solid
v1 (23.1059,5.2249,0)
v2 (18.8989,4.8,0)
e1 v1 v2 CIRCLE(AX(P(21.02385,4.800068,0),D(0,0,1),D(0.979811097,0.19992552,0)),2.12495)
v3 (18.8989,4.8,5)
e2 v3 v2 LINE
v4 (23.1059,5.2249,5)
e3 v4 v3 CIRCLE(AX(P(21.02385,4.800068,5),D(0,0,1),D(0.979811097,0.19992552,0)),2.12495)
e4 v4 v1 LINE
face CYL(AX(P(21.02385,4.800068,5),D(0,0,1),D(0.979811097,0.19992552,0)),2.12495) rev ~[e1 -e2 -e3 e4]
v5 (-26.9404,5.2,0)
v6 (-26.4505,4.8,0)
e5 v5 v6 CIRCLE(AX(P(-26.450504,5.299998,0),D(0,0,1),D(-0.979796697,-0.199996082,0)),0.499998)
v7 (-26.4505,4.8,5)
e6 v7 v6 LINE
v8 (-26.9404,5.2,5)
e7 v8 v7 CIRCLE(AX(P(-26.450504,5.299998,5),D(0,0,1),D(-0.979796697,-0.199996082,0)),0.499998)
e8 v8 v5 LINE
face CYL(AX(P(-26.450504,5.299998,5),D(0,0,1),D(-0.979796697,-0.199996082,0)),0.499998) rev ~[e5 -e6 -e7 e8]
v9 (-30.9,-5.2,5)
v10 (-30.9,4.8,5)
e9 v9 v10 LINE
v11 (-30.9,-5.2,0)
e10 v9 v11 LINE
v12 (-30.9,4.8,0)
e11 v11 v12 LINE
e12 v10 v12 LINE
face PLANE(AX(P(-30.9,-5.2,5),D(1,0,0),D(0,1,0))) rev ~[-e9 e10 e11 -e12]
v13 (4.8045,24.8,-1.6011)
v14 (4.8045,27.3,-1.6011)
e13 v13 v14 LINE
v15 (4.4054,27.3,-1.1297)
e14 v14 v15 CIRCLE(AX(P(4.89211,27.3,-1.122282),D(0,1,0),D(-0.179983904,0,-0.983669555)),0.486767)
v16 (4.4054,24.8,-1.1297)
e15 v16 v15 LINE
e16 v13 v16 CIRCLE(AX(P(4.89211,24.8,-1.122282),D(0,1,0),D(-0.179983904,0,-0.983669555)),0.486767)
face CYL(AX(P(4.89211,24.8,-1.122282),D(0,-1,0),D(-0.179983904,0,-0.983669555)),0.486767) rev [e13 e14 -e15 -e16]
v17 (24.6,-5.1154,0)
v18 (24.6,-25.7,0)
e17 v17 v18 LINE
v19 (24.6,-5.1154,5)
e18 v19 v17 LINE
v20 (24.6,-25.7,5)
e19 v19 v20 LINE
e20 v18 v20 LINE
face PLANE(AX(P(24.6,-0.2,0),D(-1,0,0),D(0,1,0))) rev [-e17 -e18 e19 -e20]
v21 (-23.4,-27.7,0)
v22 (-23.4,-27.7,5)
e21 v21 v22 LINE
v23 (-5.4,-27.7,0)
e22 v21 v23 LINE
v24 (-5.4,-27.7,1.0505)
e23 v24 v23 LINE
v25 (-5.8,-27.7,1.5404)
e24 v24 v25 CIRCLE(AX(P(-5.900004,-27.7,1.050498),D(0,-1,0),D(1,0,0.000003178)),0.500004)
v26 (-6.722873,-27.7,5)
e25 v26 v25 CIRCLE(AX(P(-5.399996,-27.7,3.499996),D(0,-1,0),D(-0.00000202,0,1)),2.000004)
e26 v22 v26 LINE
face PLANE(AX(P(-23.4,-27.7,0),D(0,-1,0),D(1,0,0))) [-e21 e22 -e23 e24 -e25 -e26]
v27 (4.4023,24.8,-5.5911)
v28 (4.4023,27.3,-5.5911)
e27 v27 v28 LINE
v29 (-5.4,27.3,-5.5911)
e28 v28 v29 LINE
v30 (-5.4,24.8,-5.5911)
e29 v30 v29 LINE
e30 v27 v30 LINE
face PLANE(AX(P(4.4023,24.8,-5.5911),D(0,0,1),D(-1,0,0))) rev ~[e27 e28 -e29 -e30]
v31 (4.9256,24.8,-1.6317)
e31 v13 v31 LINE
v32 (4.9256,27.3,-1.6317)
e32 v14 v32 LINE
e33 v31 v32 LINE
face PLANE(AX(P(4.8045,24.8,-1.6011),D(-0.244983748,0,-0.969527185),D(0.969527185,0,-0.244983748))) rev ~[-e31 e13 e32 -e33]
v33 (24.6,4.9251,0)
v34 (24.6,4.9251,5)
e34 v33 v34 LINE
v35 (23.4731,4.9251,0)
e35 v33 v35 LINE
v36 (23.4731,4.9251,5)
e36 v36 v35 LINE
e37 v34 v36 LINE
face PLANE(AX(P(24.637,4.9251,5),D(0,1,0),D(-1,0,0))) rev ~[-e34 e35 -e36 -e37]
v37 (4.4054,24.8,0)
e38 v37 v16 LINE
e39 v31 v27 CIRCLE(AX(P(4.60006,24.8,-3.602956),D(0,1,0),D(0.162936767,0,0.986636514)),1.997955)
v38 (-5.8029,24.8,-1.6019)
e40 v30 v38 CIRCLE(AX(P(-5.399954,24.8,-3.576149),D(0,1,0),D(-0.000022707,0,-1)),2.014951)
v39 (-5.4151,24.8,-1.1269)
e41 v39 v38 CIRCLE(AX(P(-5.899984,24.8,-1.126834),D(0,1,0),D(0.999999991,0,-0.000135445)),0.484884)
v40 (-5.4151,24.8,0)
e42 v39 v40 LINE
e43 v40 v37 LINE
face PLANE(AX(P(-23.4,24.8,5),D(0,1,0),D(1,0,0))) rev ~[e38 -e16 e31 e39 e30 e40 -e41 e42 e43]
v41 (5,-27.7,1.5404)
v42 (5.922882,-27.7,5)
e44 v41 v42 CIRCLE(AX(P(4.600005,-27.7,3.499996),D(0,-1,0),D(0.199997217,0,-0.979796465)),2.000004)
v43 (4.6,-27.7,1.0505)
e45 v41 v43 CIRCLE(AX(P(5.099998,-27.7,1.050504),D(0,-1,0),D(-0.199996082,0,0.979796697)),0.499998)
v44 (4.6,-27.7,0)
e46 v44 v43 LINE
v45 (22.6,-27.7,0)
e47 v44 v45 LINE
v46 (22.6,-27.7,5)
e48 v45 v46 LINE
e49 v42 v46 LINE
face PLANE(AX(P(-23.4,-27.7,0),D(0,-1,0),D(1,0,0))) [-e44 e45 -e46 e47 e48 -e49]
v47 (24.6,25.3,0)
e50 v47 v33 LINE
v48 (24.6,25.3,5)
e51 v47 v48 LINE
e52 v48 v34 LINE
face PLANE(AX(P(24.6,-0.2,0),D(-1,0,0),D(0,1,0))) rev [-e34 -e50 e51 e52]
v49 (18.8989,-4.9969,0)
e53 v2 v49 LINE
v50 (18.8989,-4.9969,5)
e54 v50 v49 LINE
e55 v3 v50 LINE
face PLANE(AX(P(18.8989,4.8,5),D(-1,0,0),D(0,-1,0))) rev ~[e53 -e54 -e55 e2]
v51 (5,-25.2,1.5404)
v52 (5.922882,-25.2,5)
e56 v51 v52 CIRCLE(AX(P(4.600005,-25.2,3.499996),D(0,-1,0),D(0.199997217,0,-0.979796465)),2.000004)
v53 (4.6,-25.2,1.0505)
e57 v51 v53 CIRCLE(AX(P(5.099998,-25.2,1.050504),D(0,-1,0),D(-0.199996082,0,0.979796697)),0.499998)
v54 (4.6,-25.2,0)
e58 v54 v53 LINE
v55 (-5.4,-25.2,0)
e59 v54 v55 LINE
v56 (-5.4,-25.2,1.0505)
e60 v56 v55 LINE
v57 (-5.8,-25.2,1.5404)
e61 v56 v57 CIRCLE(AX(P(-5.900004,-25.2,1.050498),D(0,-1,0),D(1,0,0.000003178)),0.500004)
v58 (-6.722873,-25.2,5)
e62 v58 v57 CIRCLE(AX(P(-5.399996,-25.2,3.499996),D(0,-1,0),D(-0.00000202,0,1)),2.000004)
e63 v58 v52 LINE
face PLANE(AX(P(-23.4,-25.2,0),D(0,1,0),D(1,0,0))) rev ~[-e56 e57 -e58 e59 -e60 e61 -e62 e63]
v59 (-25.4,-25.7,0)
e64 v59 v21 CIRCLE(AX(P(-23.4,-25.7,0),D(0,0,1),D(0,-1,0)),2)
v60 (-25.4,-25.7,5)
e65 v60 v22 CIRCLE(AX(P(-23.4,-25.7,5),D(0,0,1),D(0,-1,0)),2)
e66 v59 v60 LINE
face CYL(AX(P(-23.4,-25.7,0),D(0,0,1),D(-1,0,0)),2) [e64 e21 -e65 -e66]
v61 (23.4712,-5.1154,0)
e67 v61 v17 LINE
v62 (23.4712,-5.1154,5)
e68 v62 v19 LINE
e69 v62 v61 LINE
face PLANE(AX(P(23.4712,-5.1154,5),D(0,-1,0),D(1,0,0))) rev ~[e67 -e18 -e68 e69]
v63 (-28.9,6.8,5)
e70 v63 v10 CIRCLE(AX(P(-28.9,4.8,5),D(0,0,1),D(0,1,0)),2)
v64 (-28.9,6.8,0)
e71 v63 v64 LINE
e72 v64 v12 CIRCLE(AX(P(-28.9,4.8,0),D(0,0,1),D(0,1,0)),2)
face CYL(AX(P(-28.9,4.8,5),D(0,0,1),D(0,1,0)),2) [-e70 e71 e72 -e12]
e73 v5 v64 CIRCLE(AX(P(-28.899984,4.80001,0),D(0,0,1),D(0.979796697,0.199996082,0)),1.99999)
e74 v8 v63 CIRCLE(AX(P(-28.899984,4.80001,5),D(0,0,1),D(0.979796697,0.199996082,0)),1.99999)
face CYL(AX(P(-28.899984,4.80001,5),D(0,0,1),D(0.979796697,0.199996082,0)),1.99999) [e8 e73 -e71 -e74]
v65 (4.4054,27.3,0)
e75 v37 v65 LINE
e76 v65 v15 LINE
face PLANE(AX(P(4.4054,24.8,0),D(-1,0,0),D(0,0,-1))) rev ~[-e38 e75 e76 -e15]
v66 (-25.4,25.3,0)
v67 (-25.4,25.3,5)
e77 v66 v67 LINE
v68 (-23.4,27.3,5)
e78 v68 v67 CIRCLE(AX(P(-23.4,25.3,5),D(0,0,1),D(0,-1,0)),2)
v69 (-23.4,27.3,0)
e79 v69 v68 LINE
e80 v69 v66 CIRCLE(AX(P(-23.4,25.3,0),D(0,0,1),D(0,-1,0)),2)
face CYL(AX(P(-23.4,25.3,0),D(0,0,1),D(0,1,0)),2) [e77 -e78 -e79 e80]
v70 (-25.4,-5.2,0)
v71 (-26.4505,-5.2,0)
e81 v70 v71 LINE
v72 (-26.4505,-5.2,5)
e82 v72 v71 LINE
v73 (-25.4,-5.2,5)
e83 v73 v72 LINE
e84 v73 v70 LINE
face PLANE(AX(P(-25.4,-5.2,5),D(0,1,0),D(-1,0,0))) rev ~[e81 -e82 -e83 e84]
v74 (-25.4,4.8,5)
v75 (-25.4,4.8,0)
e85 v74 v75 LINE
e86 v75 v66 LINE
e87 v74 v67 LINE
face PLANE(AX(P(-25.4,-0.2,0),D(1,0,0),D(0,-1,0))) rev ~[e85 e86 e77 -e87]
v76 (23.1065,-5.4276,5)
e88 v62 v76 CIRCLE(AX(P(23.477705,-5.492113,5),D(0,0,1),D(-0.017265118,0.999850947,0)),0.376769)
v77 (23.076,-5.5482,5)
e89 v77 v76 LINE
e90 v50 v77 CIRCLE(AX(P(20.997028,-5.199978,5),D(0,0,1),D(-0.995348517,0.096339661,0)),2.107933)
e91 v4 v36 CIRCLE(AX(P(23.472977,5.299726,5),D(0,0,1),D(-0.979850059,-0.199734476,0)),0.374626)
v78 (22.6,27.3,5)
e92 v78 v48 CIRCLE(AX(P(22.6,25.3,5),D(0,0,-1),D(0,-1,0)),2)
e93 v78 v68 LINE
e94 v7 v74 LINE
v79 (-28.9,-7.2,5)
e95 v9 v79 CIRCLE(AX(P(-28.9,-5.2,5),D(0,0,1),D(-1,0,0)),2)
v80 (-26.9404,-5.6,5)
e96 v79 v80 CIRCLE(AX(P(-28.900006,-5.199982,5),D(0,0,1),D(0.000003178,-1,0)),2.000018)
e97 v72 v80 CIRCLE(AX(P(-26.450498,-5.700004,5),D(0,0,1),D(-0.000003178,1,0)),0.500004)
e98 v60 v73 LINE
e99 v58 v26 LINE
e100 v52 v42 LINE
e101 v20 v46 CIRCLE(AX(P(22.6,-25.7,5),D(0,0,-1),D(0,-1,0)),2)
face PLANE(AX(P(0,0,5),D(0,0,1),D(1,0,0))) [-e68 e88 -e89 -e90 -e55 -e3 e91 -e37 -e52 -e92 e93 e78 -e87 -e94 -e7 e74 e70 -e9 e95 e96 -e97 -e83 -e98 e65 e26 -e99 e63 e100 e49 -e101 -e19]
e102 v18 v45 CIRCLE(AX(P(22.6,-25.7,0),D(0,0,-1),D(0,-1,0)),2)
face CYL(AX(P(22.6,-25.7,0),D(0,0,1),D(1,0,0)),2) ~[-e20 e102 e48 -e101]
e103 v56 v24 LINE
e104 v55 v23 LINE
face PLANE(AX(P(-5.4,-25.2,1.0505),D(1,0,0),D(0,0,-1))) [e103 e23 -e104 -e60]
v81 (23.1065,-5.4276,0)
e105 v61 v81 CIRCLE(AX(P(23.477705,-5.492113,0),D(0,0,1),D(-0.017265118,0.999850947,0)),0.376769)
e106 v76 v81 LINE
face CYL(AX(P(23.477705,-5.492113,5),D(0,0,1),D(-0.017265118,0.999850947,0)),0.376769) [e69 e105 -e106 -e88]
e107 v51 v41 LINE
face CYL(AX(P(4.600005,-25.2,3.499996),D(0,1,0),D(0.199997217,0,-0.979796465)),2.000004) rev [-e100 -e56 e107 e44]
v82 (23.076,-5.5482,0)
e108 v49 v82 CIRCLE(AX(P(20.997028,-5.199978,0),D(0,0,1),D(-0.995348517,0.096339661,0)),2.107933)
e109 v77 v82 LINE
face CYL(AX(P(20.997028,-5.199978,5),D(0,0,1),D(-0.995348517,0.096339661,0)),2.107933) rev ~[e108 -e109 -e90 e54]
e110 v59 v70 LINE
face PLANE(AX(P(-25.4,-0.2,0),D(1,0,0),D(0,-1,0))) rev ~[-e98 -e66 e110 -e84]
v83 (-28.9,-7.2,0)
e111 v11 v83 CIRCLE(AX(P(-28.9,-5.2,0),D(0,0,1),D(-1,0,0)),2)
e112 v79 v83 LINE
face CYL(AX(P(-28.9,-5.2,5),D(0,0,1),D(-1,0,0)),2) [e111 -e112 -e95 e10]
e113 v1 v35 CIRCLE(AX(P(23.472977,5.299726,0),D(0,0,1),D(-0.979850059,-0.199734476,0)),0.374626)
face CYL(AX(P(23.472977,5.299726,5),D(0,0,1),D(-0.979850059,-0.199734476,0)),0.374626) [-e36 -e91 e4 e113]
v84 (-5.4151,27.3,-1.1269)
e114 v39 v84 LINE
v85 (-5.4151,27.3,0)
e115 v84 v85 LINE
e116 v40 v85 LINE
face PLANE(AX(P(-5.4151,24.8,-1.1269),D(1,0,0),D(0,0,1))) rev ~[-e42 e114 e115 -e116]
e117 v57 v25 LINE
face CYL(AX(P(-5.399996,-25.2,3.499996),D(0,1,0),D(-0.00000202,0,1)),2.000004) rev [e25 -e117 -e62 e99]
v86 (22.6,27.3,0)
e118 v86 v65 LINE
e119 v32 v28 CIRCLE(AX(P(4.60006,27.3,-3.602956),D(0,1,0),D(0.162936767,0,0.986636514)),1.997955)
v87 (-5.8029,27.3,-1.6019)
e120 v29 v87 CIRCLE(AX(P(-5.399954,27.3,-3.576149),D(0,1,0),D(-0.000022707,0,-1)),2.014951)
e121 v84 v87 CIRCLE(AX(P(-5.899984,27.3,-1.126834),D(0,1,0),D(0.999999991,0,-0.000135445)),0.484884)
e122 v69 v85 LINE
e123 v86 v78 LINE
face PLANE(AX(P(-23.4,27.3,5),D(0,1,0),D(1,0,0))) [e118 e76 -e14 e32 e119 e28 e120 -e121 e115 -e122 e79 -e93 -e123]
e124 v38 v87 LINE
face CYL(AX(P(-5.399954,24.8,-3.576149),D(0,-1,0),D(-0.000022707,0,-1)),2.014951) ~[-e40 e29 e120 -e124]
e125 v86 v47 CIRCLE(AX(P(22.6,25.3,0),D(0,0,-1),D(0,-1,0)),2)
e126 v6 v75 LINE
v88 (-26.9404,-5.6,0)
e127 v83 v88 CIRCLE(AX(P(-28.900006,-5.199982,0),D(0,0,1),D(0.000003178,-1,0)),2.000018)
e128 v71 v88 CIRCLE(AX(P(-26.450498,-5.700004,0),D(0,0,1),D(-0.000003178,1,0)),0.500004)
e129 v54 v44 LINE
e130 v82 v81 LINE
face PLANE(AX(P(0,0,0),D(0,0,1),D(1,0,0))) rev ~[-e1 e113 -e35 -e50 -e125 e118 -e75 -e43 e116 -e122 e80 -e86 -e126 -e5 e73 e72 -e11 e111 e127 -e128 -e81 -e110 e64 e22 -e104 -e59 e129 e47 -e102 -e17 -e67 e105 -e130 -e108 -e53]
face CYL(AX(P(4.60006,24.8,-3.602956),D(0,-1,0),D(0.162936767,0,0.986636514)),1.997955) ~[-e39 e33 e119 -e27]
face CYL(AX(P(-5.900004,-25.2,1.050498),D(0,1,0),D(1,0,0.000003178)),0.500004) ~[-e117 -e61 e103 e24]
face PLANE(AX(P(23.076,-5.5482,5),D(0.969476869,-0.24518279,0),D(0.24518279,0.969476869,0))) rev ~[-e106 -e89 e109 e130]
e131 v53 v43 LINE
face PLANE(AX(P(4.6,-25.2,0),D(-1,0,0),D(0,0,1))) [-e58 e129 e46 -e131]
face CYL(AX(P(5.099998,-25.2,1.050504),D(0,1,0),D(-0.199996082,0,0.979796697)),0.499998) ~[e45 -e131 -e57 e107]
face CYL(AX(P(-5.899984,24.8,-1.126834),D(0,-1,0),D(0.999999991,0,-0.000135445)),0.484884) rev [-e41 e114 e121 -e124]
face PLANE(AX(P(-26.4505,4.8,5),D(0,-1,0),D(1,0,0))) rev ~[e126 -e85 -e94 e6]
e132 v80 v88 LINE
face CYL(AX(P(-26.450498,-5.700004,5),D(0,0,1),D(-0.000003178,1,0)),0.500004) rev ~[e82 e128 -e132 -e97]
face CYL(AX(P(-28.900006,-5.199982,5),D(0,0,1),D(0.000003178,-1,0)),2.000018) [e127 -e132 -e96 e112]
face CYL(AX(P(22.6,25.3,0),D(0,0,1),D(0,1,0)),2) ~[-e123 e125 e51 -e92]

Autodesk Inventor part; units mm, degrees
ref_plane "YZ Plane" through (0, 0, 0) normal (1, 0, 0) x (0, 1, 0)
ref_plane "XZ Plane" through (0, 0, 0) normal (0, 1, 0) x (-1, 0, 0)
ref_plane "XY Plane" through (0, 0, 0) normal (0, 0, 1) x (1, 0, 0)
sketch "Skizze1" plane through (0, 0, 0) normal (0, 0, 1) x (1, 0, 0)
  line L0 (-17.4, -0.2) -> (-25.4, -0.2)
  line L1 (-25.4, -0.2) -> (-25.4, -23.2)
  line L2 (-23.4, -25.2) -> (-0.4, -25.2)
  line L3 (-0.4, -25.2) -> (-0.4, -17.2)
  line L4 (-17.4, -0.2) -> (-17.4, -15.2)
  line L5 (-15.4, -17.2) -> (-0.4, -17.2)
  arc A0 (-25.4, -23.2) -> (-23.4, -25.2) centre (-23.4, -23.2) ccw
  circle A1 centre (-20.4, -20.2) radius 2.425
  circle A2 centre (-21.2, -14.7) radius 2.65
  circle A3 centre (-14.9, -21) radius 2.65
  arc A4 (-17.4, -15.2) -> (-15.4, -17.2) centre (-15.4, -15.2) ccw
  circle A5 centre (-20.4, -20.2) radius 2.425
  circle A6 centre (-14.9, -21) radius 2.65
  circle A7 centre (-21.2, -14.7) radius 2.65
  line L6 (-17.4, -0.2) -> (-0.4, -0.2)
  line L7 (-0.4, -0.2) -> (-0.4, -17.2)
  line L8 (-25.4, -23.2) -> (-25.4, -25.2)
  line L9 (-25.4, -25.2) -> (-23.4, -25.2)
  point P0 (-17.4, -17.2)
  dimension "d278" = 25
  dimension "d279" = 25
  dimension "d2" = 8
  dimension "d281" = 8
  dimension "d282" = 2
  dimension "d283" = 4.85
  dimension "d284" = 20
  dimension "d4" = 20
  dimension "d286" = 5.3
  dimension "d_hole" = 5.3
  dimension "d290" = 20.8
  dimension "d" = 20.8
  dimension "d292" = 2
  dimension "d313" = 6.3
  dimension "d314" = 6.3
  dimension "d330" = 0
  dimension "d331" = 0
  dimension "d332" = 0
extrude "Extrusion1" add sketch "Skizze1" along normal blind 5 contours L4 A4 L5 L3 L2 A0 L1 L0 | L6 L7 L5 A4 L4 | A0 L9 L8 | A1 | A2 | A3
mirror "Mirror6" about plane through (-17.4, -0.2, 0) normal (0, 1, 0) of "Extrusion1"
mirror "Mirror7" about plane through (-0.4, -25.2, 0) normal (1, 0, 0) of "Extrusion1", "Mirror6"
sketch "Sketch26" plane through (0, 0, 5) normal (0, 0, 1) x (1, 0, 0)
  line L0 (24.6, 24.8) -> (-25.4, 24.8) projected
  line L1 (-25.4, -25.2) -> (-25.4, 24.8) projected
  line L2 (-25.4, -25.2) -> (24.6, -25.2) projected
  line L3 (24.6, 24.8) -> (24.6, -25.2) projected
  line L4 (-25.4, -23.2) -> (-25.4, 22.8) projected
  line L5 (-28.9, -7.2) -> (-28.9, -7.2)
  line L6 (-30.9, -5.2) -> (-30.9, 4.8)
  line L7 (-28.9, 6.8) -> (-28.9, 6.8)
  line L8 (-25.4, 6.8) -> (-25.4, -7.2)
  line L9 (-26.9, -5.2) -> (-26.9, 4.8)
  line L10 (-26.4505, 4.8) -> (-25.4, 4.8)
  line L11 (-25.4, 4.8) -> (-25.4, -5.2)
  line L12 (-25.4, -5.2) -> (-26.4505, -5.2)
  line L13 (-26.9, -5.2) -> (-25.4, 4.8) construction
  line L14 (-26.9, 4.8) -> (-25.4, -5.2) construction
  line L15 (-26.9, -5.2) -> (-26.9, -5.2)
  line L16 (-26.9, 4.8) -> (-26.9, 4.8)
  arc A0 (-30.9, -5.2) -> (-28.9, -7.2) centre (-28.9, -5.2) ccw
  arc A1 (-28.9, -7.2) -> (-26.9404, -5.6) centre (-28.9, -5.2) ccw
  arc A2 (-28.9, 6.8) -> (-30.9, 4.8) centre (-28.9, 4.8) ccw
  arc A3 (-26.9404, 5.2) -> (-28.9, 6.8) centre (-28.9, 4.8) ccw
  arc A4 (-26.4505, -5.2) -> (-26.9404, -5.6) centre (-26.4505, -5.7) ccw
  arc A5 (-26.9404, 5.2) -> (-26.4505, 4.8) centre (-26.4505, 5.3) ccw
  point P0 (0, 0)
  point P1 (-26.15, -0.2)
  point P2 (-25.4, -0.2)
  dimension "d293" = 5.5
  dimension "d294" = 14
  dimension "d295" = 18
  dimension "d296" = 10
  dimension "d297" = 1.5
  dimension "d300" = 2
  dimension "d301" = 0.5
extrude "Extrusion13" add sketch "Sketch26" against normal up to surface (5 mm away) contours L1 L12 A4 A1 A0 L6 A2 A3 A5 L10
sketch "Sketch27" plane through (0, 0, 5) normal (0, 0, 1) x (1, 0, 0)
  line L0 (24.6, 24.8) -> (-25.4, 24.8) projected
  line L1 (-25.4, -25.2) -> (-25.4, -5.2) projected
  line L2 (-26.4505, 4.8) -> (-25.4, 4.8) projected
  arc A0 (-26.9404, 5.2) -> (-26.4505, 4.8) centre (-26.4505, 5.3) ccw projected
  arc A1 (-26.9404, 5.2) -> (-30.9, 4.8) centre (-28.9, 4.8) ccw projected
  line L3 (-30.9, -5.2) -> (-30.9, 4.8) projected
  arc A2 (-30.9, -5.2) -> (-26.9404, -5.6) centre (-28.9, -5.2) ccw projected
  arc A3 (-26.4505, -5.2) -> (-26.9404, -5.6) centre (-26.4505, -5.7) ccw projected
  line L4 (-25.4, -5.2) -> (-26.4505, -5.2) projected
  line L5 (-25.4, 4.8) -> (-25.4, 24.8) projected
  line L6 (-25.4, -25.2) -> (24.6, -25.2) projected
  line L7 (24.6, 24.8) -> (24.6, -25.2) projected
  circle A4 centre (-0.4, -0.2) radius 17
  point P0 (0, 0)
sketch "Sketch28" plane through (0, 0, 5) normal (0, 0, 1) x (1, 0, 0)
  line L0 (24.6, 24.8) -> (-25.4, 24.8) projected
  line L1 (-25.4, -25.2) -> (-25.4, -5.2) projected
  line L2 (-26.4505, 4.8) -> (-25.4, 4.8) projected
  arc A0 (-26.9404, 5.2) -> (-26.4505, 4.8) centre (-26.4505, 5.3) ccw projected
  arc A1 (-26.9404, 5.2) -> (-30.9, 4.8) centre (-28.9, 4.8) ccw projected
  line L3 (-30.9, -5.2) -> (-30.9, 4.8) projected
  arc A2 (-30.9, -5.2) -> (-26.9404, -5.6) centre (-28.9, -5.2) ccw projected
  arc A3 (-26.4505, -5.2) -> (-26.9404, -5.6) centre (-26.4505, -5.7) ccw projected
  line L4 (-25.4, -5.2) -> (-26.4505, -5.2) projected
  line L5 (-25.4, 4.8) -> (-25.4, 24.8) projected
  line L6 (-25.4, -25.2) -> (24.6, -25.2) projected
  line L7 (24.6, 24.8) -> (24.6, -25.2) projected
  line L8 (-25.4, 22.8) -> (-25.4, 4.8) projected
  line L9 (-25.4, -5.2) -> (-25.4, 4.8)
  line L10 (-30.9, -5.2) -> (-30.9, 4.8)
  arc A4 (-30.9, -5.2) -> (-26.9687, -5.7197) centre (-28.9, -5.2) ccw
  arc A5 (-26.9404, 5.2) -> (-30.9, 4.8) centre (-28.9, 4.8) ccw
  line L11 (-25.4, -5.2) -> (-26.2523, -5.2)
  line L12 (-25.4, 4.8) -> (-26.4505, 4.8)
  arc A6 (-26.2523, -5.2) -> (-25.9588, -5.6095) centre (-25.7545, -5.1531) ccw
  arc A7 (-26.9404, 5.2) -> (-26.4505, 4.8) centre (-26.4505, 5.3) ccw
  arc A8 (-26.9404, 5.2) -> (-26.4505, 4.8) centre (-26.4505, 5.3) ccw projected
  line L13 (-26.9404, 5.2) -> (-26.9404, 5.2)
  line L14 (-26.9687, -5.7197) -> (-25.9588, -5.6095)
  line L15 (24.527, -5.0054) -> (24.527, 4.8151)
  line L16 (19.0089, -5.0023) -> (19.0089, 4.8)
  arc A9 (19.0089, -5.0023) -> (22.9683, -5.5256) centre (20.997, -5.2) ccw
  arc A10 (22.9981, 5.203) -> (19.0089, 4.8) centre (21.0238, 4.8) ccw
  line L17 (24.527, -5.0054) -> (23.4703, -5.0054)
  line L18 (24.527, 4.8151) -> (23.4731, 4.8151)
  arc A11 (23.4703, -5.0054) -> (22.9989, -5.4045) centre (23.4777, -5.4921) ccw
  arc A12 (22.9977, 5.2047) -> (23.4731, 4.8151) centre (23.4731, 5.2998) ccw
  line L19 (22.9977, 5.2047) -> (22.9981, 5.203)
  line L20 (22.9683, -5.5256) -> (22.9989, -5.4045)
  line L21 (18.9339, 4.8) -> (18.9339, -4.9986)
  arc A13 (18.9339, -4.9986) -> (23.0417, -5.541) centre (20.997, -5.2) ccw
  line L22 (23.0417, -5.541) -> (23.0722, -5.4203)
  arc A14 (23.4709, -5.0804) -> (23.0722, -5.4203) centre (23.4777, -5.4921) ccw
  line L23 (23.4709, -5.0804) -> (24.602, -5.0804)
  line L24 (24.602, -5.0804) -> (24.602, 4.8901)
  line L25 (24.602, 4.8901) -> (23.4731, 4.8901)
  arc A15 (23.0716, 5.2179) -> (23.4731, 4.8901) centre (23.4731, 5.2998) ccw
  arc A16 (23.0716, 5.2179) -> (18.9339, 4.8) centre (21.0238, 4.8) ccw
  point P0 (0, 0)
  dimension "d307" = 0.075
  dimension "d315" = 0.1946
  dimension "d316" = 0
  dimension "d317" = 0
  dimension "d318" = 0.0901
extrude "Extrusion14" cut sketch "Sketch28" against normal blind 10 contours L7 L23 A14 L22 A13 L21 A16 A15 L25 | L17 A11 L20 A9 L16 A10 A12 L18 L15
sketch "Sketch30" plane through (0, 0, 5) normal (0, 0, 1) x (1, 0, 0)
  line L0 (24.6, 24.8) -> (-25.4, 24.8) construction
  line L1 (-25.4, -25.2) -> (-25.4, -5.2) construction
  line L2 (-26.4505, 4.8) -> (-25.4, 4.8) construction
  arc A0 (-26.9404, 5.2) -> (-26.4505, 4.8) centre (-26.4505, 5.3) ccw construction
  arc A1 (-26.9404, 5.2) -> (-30.9, 4.8) centre (-28.9, 4.8) ccw construction
  line L3 (-30.9, -5.2) -> (-30.9, 4.8) construction
  arc A2 (-30.9, -5.2) -> (-26.9404, -5.6) centre (-28.9, -5.2) ccw construction
  arc A3 (-26.4505, -5.2) -> (-26.9404, -5.6) centre (-26.4505, -5.7) ccw construction
  line L4 (-25.4, -5.2) -> (-26.4505, -5.2) construction
  line L5 (-25.4, 4.8) -> (-25.4, 24.8) construction
  line L6 (-25.4, -25.2) -> (24.6, -25.2) construction
  line L7 (24.6, 24.8) -> (24.6, 4.8901) construction
  line L8 (24.6, -5.0804) -> (23.4709, -5.0804) construction
  arc A4 (23.4709, -5.0804) -> (23.0722, -5.4203) centre (23.4777, -5.4921) ccw construction
  line L9 (23.0722, -5.4203) -> (23.0417, -5.541) construction
  arc A5 (18.9339, -4.9986) -> (23.0417, -5.541) centre (20.997, -5.2) ccw construction
  line L10 (18.9339, -4.9986) -> (18.9339, 4.8) construction
  arc A6 (23.0716, 5.2179) -> (18.9339, 4.8) centre (21.0238, 4.8) ccw construction
  arc A7 (23.0716, 5.2179) -> (23.4731, 4.8901) centre (23.4731, 5.2998) ccw construction
  line L11 (23.4731, 4.8901) -> (24.6, 4.8901) construction
  line L12 (24.6, -5.0804) -> (24.6, -25.2) construction
  line L13 (-28.9, -7.2) -> (-28.9, -7.2)
  line L14 (-30.9, -5.2) -> (-30.9, 4.8)
  line L15 (-28.9, 6.8) -> (-28.9, 6.8)
  line L16 (-26.9, -5.2) -> (-26.9, 4.8)
  line L17 (-26.4505, 4.8) -> (-25.4, 4.8)
  line L18 (-25.4, 4.8) -> (-25.4, -5.2)
  line L19 (-25.4, -5.2) -> (-26.4505, -5.2)
  line L20 (-26.9, -5.2) -> (-25.4, 4.8) construction
  line L21 (-26.9, 4.8) -> (-25.4, -5.2) construction
  line L22 (-26.9, -5.2) -> (-26.9, -5.2)
  line L23 (-26.9, 4.8) -> (-26.9, 4.8)
  arc A8 (-30.9, -5.2) -> (-28.9, -7.2) centre (-28.9, -5.2) ccw
  arc A9 (-28.9, -7.2) -> (-26.9404, -5.6) centre (-28.9, -5.2) ccw
  arc A10 (-28.9, 6.8) -> (-30.9, 4.8) centre (-28.9, 4.8) ccw
  arc A11 (-26.9404, 5.2) -> (-28.9, 6.8) centre (-28.9, 4.8) ccw
  arc A12 (-26.4505, -5.2) -> (-26.9404, -5.6) centre (-26.4505, -5.7) ccw
  arc A13 (-26.9404, 5.2) -> (-26.4505, 4.8) centre (-26.4505, 5.3) ccw
  arc A14 (-28.9, 6.875) -> (-30.975, 4.8) centre (-28.9, 4.8) ccw
  line L24 (-30.975, 4.8) -> (-30.975, -5.2)
  arc A15 (-30.975, -5.2) -> (-29.5327, -7.1762) centre (-28.9, -5.2) ccw
  arc A16 (-29.5327, -7.1762) -> (-26.8669, -5.615) centre (-28.9, -5.2) ccw
  arc A17 (-26.4505, -5.275) -> (-26.8669, -5.615) centre (-26.4505, -5.7) ccw
  line L25 (-26.4505, -5.275) -> (-25.325, -5.275)
  line L26 (-25.325, -5.275) -> (-25.325, 4.875)
  line L27 (-25.325, 4.875) -> (-26.4505, 4.875)
  arc A18 (-26.8669, 5.215) -> (-26.4505, 4.875) centre (-26.4505, 5.3) ccw
  arc A19 (-26.8669, 5.215) -> (-28.9, 6.875) centre (-28.9, 4.8) ccw
  arc A20 (-28.9, 6.8) -> (-30.9, 4.8) centre (-28.9, 4.8) ccw
  line L28 (-30.9, 4.8) -> (-30.9, -5.2)
  arc A21 (-30.9, -5.2) -> (-29.5098, -7.1048) centre (-28.9, -5.2) ccw
  arc A22 (-29.5098, -7.1048) -> (-26.9404, -5.6) centre (-28.9, -5.2) ccw
  arc A23 (-26.4505, -5.2) -> (-26.9404, -5.6) centre (-26.4505, -5.7) ccw
  line L29 (-26.4505, -5.2) -> (-25.4, -5.2)
  line L30 (-25.4, 4.8) -> (-26.4505, 4.8)
  arc A24 (-26.9404, 5.2) -> (-26.4505, 4.8) centre (-26.4505, 5.3) ccw
  arc A25 (-26.9404, 5.2) -> (-28.9, 6.8) centre (-28.9, 4.8) ccw
  line L31 (-25.4, 4.8) -> (-25.4, -5.2)
  line L32 (-26.4505, 4.8) -> (-25.4, 4.8) projected
  line L33 (-25.4, 4.8) -> (-25.4, 4.8)
  line L34 (-25.4, -5.2) -> (-26.4505, -5.2) projected
  line L35 (-25.4, -5.2) -> (-25.4, -5.2)
  arc A26 (22.9977, 5.2047) -> (23.4731, 4.8151) centre (23.4731, 5.2998) ccw
  line L36 (24.527, -5.0054) -> (24.527, 4.8151)
  line L37 (19.0089, -5.0023) -> (19.0089, 4.8)
  line L38 (24.527, -5.0054) -> (23.4703, -5.0054)
  arc A27 (23.4703, -5.0054) -> (22.9989, -5.4045) centre (23.4777, -5.4921) ccw
  line L39 (22.9683, -5.5256) -> (22.9989, -5.4045)
  arc A28 (19.0089, -5.0023) -> (22.9683, -5.5256) centre (20.997, -5.2) ccw
  line L40 (24.527, 4.8151) -> (23.4731, 4.8151)
  line L41 (22.9977, 5.2047) -> (22.9981, 5.203)
  arc A29 (22.9981, 5.203) -> (19.0089, 4.8) centre (21.0238, 4.8) ccw
  line L42 (18.8989, 4.8) -> (18.8989, -4.9969)
  arc A30 (18.8989, -4.9969) -> (23.076, -5.5482) centre (20.997, -5.2) ccw
  line L43 (23.076, -5.5482) -> (23.1065, -5.4276)
  arc A31 (23.4712, -5.1154) -> (23.1065, -5.4276) centre (23.4777, -5.4921) ccw
  line L44 (23.4712, -5.1154) -> (24.637, -5.1154)
  line L45 (24.637, -5.1154) -> (24.637, 4.9251)
  line L46 (24.637, 4.9251) -> (23.4731, 4.9251)
  arc A32 (23.1059, 5.2249) -> (23.4731, 4.9251) centre (23.4731, 5.2998) ccw
  arc A33 (23.1059, 5.2249) -> (18.8989, 4.8) centre (21.0238, 4.8) ccw
  line L47 (24.637, 4.9251) -> (24.637, -5.1154)
  line L48 (24.637, -5.1154) -> (23.4712, -5.1154)
  arc A34 (23.4712, -5.1154) -> (23.1065, -5.4276) centre (23.4777, -5.4921) ccw
  line L49 (23.1065, -5.4276) -> (23.076, -5.5482)
  arc A35 (18.8989, -4.9969) -> (23.076, -5.5482) centre (20.997, -5.2) ccw
  line L50 (18.8989, -4.9969) -> (18.8989, 4.8)
  arc A36 (23.1059, 5.2249) -> (18.8989, 4.8) centre (21.0238, 4.8) ccw
  arc A37 (23.1059, 5.2249) -> (23.4731, 4.9251) centre (23.4731, 5.2998) ccw
  line L51 (23.4731, 4.9251) -> (24.637, 4.9251)
  point P0 (-26.15, -0.2)
  point P1 (-25.4, -0.2)
  dimension "d334" = 14
  dimension "d336" = 10
  dimension "d337" = 1.5
  dimension "d338" = 2
  dimension "d339" = 0.5
  dimension "d340" = 0.075
  dimension "d341" = 0.075
  dimension "d342" = 0.075
  dimension "d343" = 0.075
  dimension "d346" = 0.11
  dimension "d347" = 0
extrude "Extrusion15" cut sketch "Sketch30" against normal blind 10 contours A26 L40 L36 L38 A27 L39 A28 L37 A29 | A33 A32 L46 L45 L44 A31 L43 A30 L42
sketch "Skizze32" plane through (-23.4, 24.8, 5) normal (0, 1, 0) x (1, 0, 0)
  line L0 (-2, 5) -> (48, 5) projected
  line L1 (48, 0) -> (-2, 0) projected
  circle A0 centre (2, 29.8) radius 2.5 projected
  circle A1 centre (23.4, 51) radius 2.5 projected
  line L2 (27.8804, 6.1291) -> (27.8804, 5) projected
  line L3 (27.8804, 5) -> (46, 5) projected
  arc A2 (46, 5) -> (48, 7) centre (46, 7) ccw projected
  line L4 (48, 24.9099) -> (48, 7) projected
  line L5 (48, 24.9099) -> (46.8731, 24.9099) projected
  arc A3 (46.8731, 24.9099) -> (46.4716, 24.5821) centre (46.8731, 24.5002) ccw projected
  arc A4 (42.3339, 25) -> (46.4716, 24.5821) centre (44.4238, 25) ccw projected
  line L6 (42.3339, 25) -> (42.3339, 34.7986) projected
  arc A5 (46.4417, 35.341) -> (42.3339, 34.7986) centre (44.397, 35) ccw projected
  line L7 (46.4417, 35.341) -> (46.4722, 35.2203) projected
  arc A6 (46.4722, 35.2203) -> (46.8709, 34.8804) centre (46.8777, 35.2921) ccw projected
  line L8 (46.8709, 34.8804) -> (48, 34.8804) projected
  line L9 (48, 53) -> (48, 34.8804) projected
  arc A7 (48, 53) -> (46, 55) centre (46, 53) ccw projected
  line L10 (46, 55) -> (28, 55) projected
  line L11 (28, 55) -> (28, 56.0505) projected
  arc A8 (28.4, 56.5404) -> (28, 56.0505) centre (28.5, 56.0505) ccw projected
  arc A9 (28.4, 56.5404) -> (28, 60.5) centre (28, 58.5) ccw projected
  line L12 (28, 60.5) -> (18, 60.5) projected
  arc A10 (18, 60.5) -> (17.6, 56.5404) centre (18, 58.5) ccw projected
  arc A11 (18, 56.0505) -> (17.6, 56.5404) centre (17.5, 56.0505) ccw projected
  line L13 (18, 56.0505) -> (18, 55) projected
  line L14 (18, 55) -> (0, 55) projected
  arc A12 (0, 55) -> (-2, 53) centre (0, 53) ccw projected
  line L15 (-2, 35) -> (-2, 53) projected
  line L16 (-2, 35) -> (-3.0505, 35) projected
  arc A13 (-3.5404, 35.4) -> (-3.0505, 35) centre (-3.0505, 35.5) ccw projected
  arc A14 (-3.5404, 35.4) -> (-7.5, 35) centre (-5.5, 35) ccw projected
  line L17 (-7.5, 35) -> (-7.5, 25) projected
  arc A15 (-7.5, 25) -> (-3.5404, 24.6) centre (-5.5, 25) ccw projected
  arc A16 (-3.0505, 25) -> (-3.5404, 24.6) centre (-3.0505, 24.5) ccw projected
  line L18 (-3.0505, 25) -> (-2, 25) projected
  line L19 (-2, 7) -> (-2, 25) projected
  arc A17 (-2, 7) -> (0, 5) centre (0, 7) ccw projected
  line L20 (0, 5) -> (17.9099, 5) projected
  line L21 (17.9099, 5) -> (17.9099, 6.1269) projected
  arc A18 (17.9099, 6.1269) -> (17.5821, 6.5284) centre (17.5002, 6.1269) ccw projected
  arc A19 (18, 10.6661) -> (17.5821, 6.5284) centre (18, 8.5762) ccw projected
  line L22 (18, 10.6661) -> (27.7986, 10.6661) projected
  arc A20 (28.341, 6.5583) -> (27.7986, 10.6661) centre (28, 8.603) ccw projected
  line L23 (28.341, 6.5583) -> (28.2203, 6.5278) projected
  arc A21 (28.2203, 6.5278) -> (27.8804, 6.1291) centre (28.2921, 6.1223) ccw projected
  line L24 (8, 13) -> (38, 13) projected
  arc A22 (6, 15) -> (8, 13) centre (8, 15) ccw projected
  line L25 (6, 15) -> (6, 45) projected
  arc A23 (8, 47) -> (6, 45) centre (8, 45) ccw projected
  line L26 (8, 47) -> (38, 47) projected
  arc A24 (40, 45) -> (38, 47) centre (38, 45) ccw projected
  line L27 (40, 45) -> (40, 15) projected
  arc A25 (38, 13) -> (40, 15) centre (38, 15) ccw projected
  circle A26 centre (43, 10) radius 2.425 projected
  circle A27 centre (37.5, 9.2) radius 2.65 projected
  circle A28 centre (43.8, 15.5) radius 2.65 projected
  circle A29 centre (43, 50) radius 2.425 projected
  circle A30 centre (37.5, 50.8) radius 2.65 projected
  circle A31 centre (43.8, 44.5) radius 2.65 projected
  circle A32 centre (3, 10) radius 2.425 projected
  circle A33 centre (8.5, 9.2) radius 2.65 projected
  circle A34 centre (2.2, 15.5) radius 2.65 projected
  circle A35 centre (2.2, 44.5) radius 2.65 projected
  circle A36 centre (8.5, 50.8) radius 2.65 projected
  circle A37 centre (3, 50) radius 2.425 projected
  line L28 (-2, 5) -> (-2, 0) projected
  line L29 (48, 5) -> (48, 0) projected
  line L30 (-2, 0) -> (48, 0)
  line L31 (48, 0) -> (48, 5)
  line L32 (48, 5) -> (-2, 5)
  line L33 (-2, 5) -> (-2, 0)
  line L34 (-2, 5) -> (-2, 0) projected
  line L35 (48, 5) -> (48, 0) projected
  arc A38 (17.9849, 6.1269) -> (17.5971, 6.6019) centre (17.5002, 6.1269) ccw
  line L36 (17.9849, 6.1269) -> (17.9849, 4.925)
  line L37 (17.9849, 4.925) -> (0, 4.925)
  arc A39 (-2.075, 7) -> (0, 4.925) centre (0, 7) ccw
  line L38 (-2.075, 7) -> (-2.075, 24.925)
  line L39 (-2.075, 24.925) -> (-3.0505, 24.925)
  arc A40 (-3.0505, 24.925) -> (-3.4669, 24.585) centre (-3.0505, 24.5) ccw
  arc A41 (-7.575, 25) -> (-3.4669, 24.585) centre (-5.5, 25) ccw
  line L40 (-7.575, 25) -> (-7.575, 35)
  arc A42 (-3.4669, 35.415) -> (-7.575, 35) centre (-5.5, 35) ccw
  arc A43 (-3.4669, 35.415) -> (-3.0505, 35.075) centre (-3.0505, 35.5) ccw
  line L41 (-3.0505, 35.075) -> (-2.075, 35.075)
  line L42 (-2.075, 35.075) -> (-2.075, 53)
  arc A44 (0, 55.075) -> (-2.075, 53) centre (0, 53) ccw
  line L43 (0, 55.075) -> (17.925, 55.075)
  line L44 (17.925, 55.075) -> (17.925, 56.0505)
  arc A45 (17.925, 56.0505) -> (17.585, 56.4669) centre (17.5, 56.0505) ccw
  arc A46 (18, 60.575) -> (17.585, 56.4669) centre (18, 58.5) ccw
  line L45 (18, 60.575) -> (28, 60.575)
  arc A47 (28.415, 56.4669) -> (28, 60.575) centre (28, 58.5) ccw
  arc A48 (28.415, 56.4669) -> (28.075, 56.0505) centre (28.5, 56.0505) ccw
  line L46 (28.075, 56.0505) -> (28.075, 55.075)
  line L47 (28.075, 55.075) -> (46, 55.075)
  arc A49 (48.075, 53) -> (46, 55.075) centre (46, 53) ccw
  line L48 (48.075, 53) -> (48.075, 34.8054)
  line L49 (48.075, 34.8054) -> (46.8703, 34.8054)
  arc A50 (46.3989, 35.2045) -> (46.8703, 34.8054) centre (46.8777, 35.2921) ccw
  line L50 (46.3989, 35.2045) -> (46.3683, 35.3256)
  arc A51 (46.3683, 35.3256) -> (42.4089, 34.8023) centre (44.397, 35) ccw
  line L51 (42.4089, 34.8023) -> (42.4089, 25)
  arc A52 (42.4089, 25) -> (46.3981, 24.5971) centre (44.4238, 25) ccw
  arc A53 (46.8731, 24.9849) -> (46.3981, 24.5971) centre (46.8731, 24.5002) ccw
  line L52 (46.8731, 24.9849) -> (48.075, 24.9849)
  line L53 (48.075, 24.9849) -> (48.075, 7)
  arc A54 (46, 4.925) -> (48.075, 7) centre (46, 7) ccw
  line L54 (46, 4.925) -> (27.8054, 4.925)
  line L55 (27.8054, 4.925) -> (27.8054, 6.1297)
  arc A55 (28.2045, 6.6011) -> (27.8054, 6.1297) centre (28.2921, 6.1223) ccw
  line L56 (28.2045, 6.6011) -> (28.3256, 6.6317)
  arc A56 (28.3256, 6.6317) -> (27.8023, 10.5911) centre (28, 8.603) ccw
  line L57 (27.8023, 10.5911) -> (18, 10.5911)
  arc A57 (18, 10.5911) -> (17.5971, 6.6019) centre (18, 8.5762) ccw
  point P0 (23.4, 5)
  point P1 (27.8054, 5)
  point P2 (17.9849, 5)
  point P3 (-2, 0)
  point P4 (48, 5)
  dimension "d359" = 0.075
extrude "Extrusion17" add sketch "Skizze32" along normal blind 2.5 contours L0 L36 L37 A39 | A39 L37 L36 L0 L55 L54 A54 L29 L1 L28 | L36 A38 A57 L57 A56 L56 A55 L55 L0 | L0 A54 L54 L55
sketch "Skizze33" plane through (-23.4, -25.2, 0) normal (0, -1, 0) x (1, 0, 0)
  arc A0 (28.4, 1.5404) -> (28, 5.5) centre (28, 3.5) ccw projected
  line L0 (-2, 0) -> (48, 0) projected
  line L1 (-2, 5) -> (48, 5) projected
  line L2 (17.9849, 0) -> (27.8054, 0) projected
  line L3 (46, 0) -> (48, 0) projected
  line L4 (48, 0) -> (48, 5) projected
  line L5 (48, 5) -> (46, 5) projected
  line L6 (46, 0) -> (46, 5) projected
  line L7 (0, 0) -> (-2, 0) projected
  line L8 (0, 0) -> (0, 5) projected
  line L9 (-2, 5) -> (0, 5) projected
  line L10 (-2, 0) -> (-2, 5) projected
  circle A1 centre (2.2, -32.9227) radius 1.5 projected
  line L11 (38, -42) -> (8, -42) projected
  arc A2 (38, -42) -> (40, -40) centre (38, -40) ccw projected
  line L12 (40, -40) -> (40, -10) projected
  arc A3 (40, -10) -> (38, -8) centre (38, -10) ccw projected
  line L13 (23.4, -8) -> (38, -8) projected
  circle A4 centre (23.4, -4) radius 4 projected
  line L14 (8, -8) -> (23.4, -8) projected
  arc A5 (8, -8) -> (6, -10) centre (8, -10) ccw projected
  line L15 (6, -10) -> (6, -25.2) projected
  circle A6 centre (2, -25.2) radius 4 projected
  line L16 (6, -25.2) -> (6, -40) projected
  arc A7 (6, -40) -> (8, -42) centre (8, -40) ccw projected
  circle A8 centre (3, -5) radius 2.425 projected
  circle A9 centre (8.5, -4.2) radius 2.65 projected
  circle A10 centre (2.2, -10.5) radius 2.65 projected
  circle A11 centre (2.2, -39.5) radius 2.65 projected
  circle A12 centre (8.5, -45.8) radius 2.65 projected
  circle A13 centre (3, -45) radius 2.425 projected
  circle A14 centre (43.8, -10.5) radius 2.65 projected
  circle A15 centre (37.5, -4.2) radius 2.65 projected
  circle A16 centre (43, -5) radius 2.425 projected
  circle A17 centre (43.8, -39.5) radius 2.65 projected
  circle A18 centre (37.5, -45.8) radius 2.65 projected
  circle A19 centre (43, -45) radius 2.425 projected
  line L17 (27.8804, -50) -> (27.8804, -48.8709) projected
  arc A20 (28.2203, -48.4722) -> (27.8804, -48.8709) centre (28.2921, -48.8777) ccw projected
  line L18 (28.2203, -48.4722) -> (28.341, -48.4417) projected
  arc A21 (28.341, -48.4417) -> (27.7986, -44.3339) centre (28, -46.397) ccw projected
  line L19 (27.7986, -44.3339) -> (18, -44.3339) projected
  arc A22 (18, -44.3339) -> (17.5821, -48.4716) centre (18, -46.4238) ccw projected
  arc A23 (17.9099, -48.8731) -> (17.5821, -48.4716) centre (17.5002, -48.8731) ccw projected
  line L20 (17.9099, -48.8731) -> (17.9099, -50) projected
  line L21 (17.9099, -50) -> (0, -50) projected
  arc A24 (-2, -48) -> (0, -50) centre (0, -48) ccw projected
  line L22 (-2, -30) -> (-2, -48) projected
  line L23 (-3.0505, -30) -> (-2, -30) projected
  arc A25 (-3.0505, -30) -> (-3.5404, -30.4) centre (-3.0505, -30.5) ccw projected
  arc A26 (-7.5, -30) -> (-3.5404, -30.4) centre (-5.5, -30) ccw projected
  line L24 (-7.5, -20) -> (-7.5, -30) projected
  arc A27 (-3.5404, -19.6) -> (-7.5, -20) centre (-5.5, -20) ccw projected
  arc A28 (-3.5404, -19.6) -> (-3.0505, -20) centre (-3.0505, -19.5) ccw projected
  line L25 (-2, -20) -> (-3.0505, -20) projected
  line L26 (-2, -2) -> (-2, -20) projected
  arc A29 (0, 0) -> (-2, -2) centre (0, -2) ccw projected
  line L27 (0, 0) -> (18, 0) projected
  line L28 (18, 1.0505) -> (18, 0) projected
  arc A30 (18, 1.0505) -> (17.6, 1.5404) centre (17.5, 1.0505) ccw projected
  arc A31 (18, 5.5) -> (17.6, 1.5404) centre (18, 3.5) ccw projected
  line L29 (28, 5.5) -> (18, 5.5) projected
  arc A32 (28.4, 1.5404) -> (28, 5.5) centre (28, 3.5) ccw projected
  arc A33 (28.4, 1.5404) -> (28, 1.0505) centre (28.5, 1.0505) ccw projected
  line L30 (28, 0) -> (28, 1.0505) projected
  line L31 (28, 0) -> (46, 0) projected
  arc A34 (48, -2) -> (46, 0) centre (46, -2) ccw projected
  line L32 (48, -20.1196) -> (48, -2) projected
  line L33 (48, -20.1196) -> (46.8709, -20.1196) projected
  arc A35 (46.4722, -19.7797) -> (46.8709, -20.1196) centre (46.8777, -19.7079) ccw projected
  line L34 (46.4722, -19.7797) -> (46.4417, -19.659) projected
  arc A36 (46.4417, -19.659) -> (42.3339, -20.2014) centre (44.397, -20) ccw projected
  line L35 (42.3339, -20.2014) -> (42.3339, -30) projected
  arc A37 (42.3339, -30) -> (46.4716, -30.4179) centre (44.4238, -30) ccw projected
  arc A38 (46.8731, -30.0901) -> (46.4716, -30.4179) centre (46.8731, -30.4998) ccw projected
  line L36 (46.8731, -30.0901) -> (48, -30.0901) projected
  line L37 (48, -48) -> (48, -30.0901) projected
  arc A39 (46, -50) -> (48, -48) centre (46, -48) ccw projected
  line L38 (46, -50) -> (27.8804, -50) projected
  line L39 (48, 0) -> (48, 5) projected
  line L40 (-2, 0) -> (-2, 5) projected
  line L41 (17.9849, -1.1269) -> (17.9849, 0) projected
  arc A40 (17.5971, -1.6019) -> (17.9849, -1.1269) centre (17.5002, -1.1269) ccw projected
  arc A41 (17.5971, -1.6019) -> (18, -5.5911) centre (18, -3.5762) ccw projected
  line L42 (27.8023, -5.5911) -> (18, -5.5911) projected
  arc A42 (27.8023, -5.5911) -> (28.3256, -1.6317) centre (28, -3.603) ccw projected
  line L43 (28.2045, -1.6011) -> (28.3256, -1.6317) projected
  arc A43 (27.8054, -1.1297) -> (28.2045, -1.6011) centre (28.2921, -1.1223) ccw projected
  line L44 (27.8054, 0) -> (27.8054, -1.1297) projected
  point P0 (23.4, 0)
  point P1 (17.9099, 0)
  point P2 (29.3229, 5)
  point P3 (23.4, 0)
  point P4 (16.6771, 5)
extrude "Extrusion18" add sketch "Skizze33" along normal blind 2.5 contours A0 L1 L6 L0 L30 A33 | A31 A30 L28 L0 L8 L1 | L1 L4 L0 L6 | L8 L0 L10 L1
fillet "Rundung5" radius 2 4 edges at (24.6, -27.7, 2.5) (-25.4, -27.7, 2.5) (-25.4, 27.3, 2.5) (24.6, 27.3, 2.5)
equation "\"d_i\" = 40"
equation "\"d_o\" = 40"
equation "\"d_part\" = 50"
equation "\"d6\" = 0"
equation "\"d7\" = 0"
equation "\"d8\" = 0"
equation "\"d9\" = 0"
equation "\"d13\" = 0"
equation "\"d14\" = 0"
equation "\"d20\" = 0"
equation "\"d21\" = 0"
equation "\"d22\" = 0"
equation "\"d23\" = 0"
equation "\"d24\" = 0"
equation "\"d25\" = 3"
equation "\"d26\" = 0"
equation "\"d27\" = 0"
equation "\"d28\" = 0"
equation "\"d29\" = 0"
equation "\"d30\" = 0"
equation "\"d31\" = 0"
equation "\"d32\" = 0"
equation "\"d33\" = 0"
equation "\"d34\" = 0"
equation "\"d46\" = 0"
equation "\"d47\" = 0"
equation "\"d48\" = 0"
equation "\"d50\" = 0"
equation "\"d51\" = 0"
equation "\"d52\" = 0"
equation "\"d53\" = 0"
equation "\"d54\" = 0"
equation "\"d55\" = 0"
equation "\"d56\" = 0"
equation "\"d57\" = 0"
equation "\"d58\" = 0"
equation "\"d59\" = 0"
equation "\"magnet_offset\" = 0"
equation "\"screw_offset\" = 0"
equation "\"mal_puzzle_offset\" = 0"
equation "\"fem_puzzle_offset\" = 0"
properties part number "10_Base_puzzle_sideplate_v3"
